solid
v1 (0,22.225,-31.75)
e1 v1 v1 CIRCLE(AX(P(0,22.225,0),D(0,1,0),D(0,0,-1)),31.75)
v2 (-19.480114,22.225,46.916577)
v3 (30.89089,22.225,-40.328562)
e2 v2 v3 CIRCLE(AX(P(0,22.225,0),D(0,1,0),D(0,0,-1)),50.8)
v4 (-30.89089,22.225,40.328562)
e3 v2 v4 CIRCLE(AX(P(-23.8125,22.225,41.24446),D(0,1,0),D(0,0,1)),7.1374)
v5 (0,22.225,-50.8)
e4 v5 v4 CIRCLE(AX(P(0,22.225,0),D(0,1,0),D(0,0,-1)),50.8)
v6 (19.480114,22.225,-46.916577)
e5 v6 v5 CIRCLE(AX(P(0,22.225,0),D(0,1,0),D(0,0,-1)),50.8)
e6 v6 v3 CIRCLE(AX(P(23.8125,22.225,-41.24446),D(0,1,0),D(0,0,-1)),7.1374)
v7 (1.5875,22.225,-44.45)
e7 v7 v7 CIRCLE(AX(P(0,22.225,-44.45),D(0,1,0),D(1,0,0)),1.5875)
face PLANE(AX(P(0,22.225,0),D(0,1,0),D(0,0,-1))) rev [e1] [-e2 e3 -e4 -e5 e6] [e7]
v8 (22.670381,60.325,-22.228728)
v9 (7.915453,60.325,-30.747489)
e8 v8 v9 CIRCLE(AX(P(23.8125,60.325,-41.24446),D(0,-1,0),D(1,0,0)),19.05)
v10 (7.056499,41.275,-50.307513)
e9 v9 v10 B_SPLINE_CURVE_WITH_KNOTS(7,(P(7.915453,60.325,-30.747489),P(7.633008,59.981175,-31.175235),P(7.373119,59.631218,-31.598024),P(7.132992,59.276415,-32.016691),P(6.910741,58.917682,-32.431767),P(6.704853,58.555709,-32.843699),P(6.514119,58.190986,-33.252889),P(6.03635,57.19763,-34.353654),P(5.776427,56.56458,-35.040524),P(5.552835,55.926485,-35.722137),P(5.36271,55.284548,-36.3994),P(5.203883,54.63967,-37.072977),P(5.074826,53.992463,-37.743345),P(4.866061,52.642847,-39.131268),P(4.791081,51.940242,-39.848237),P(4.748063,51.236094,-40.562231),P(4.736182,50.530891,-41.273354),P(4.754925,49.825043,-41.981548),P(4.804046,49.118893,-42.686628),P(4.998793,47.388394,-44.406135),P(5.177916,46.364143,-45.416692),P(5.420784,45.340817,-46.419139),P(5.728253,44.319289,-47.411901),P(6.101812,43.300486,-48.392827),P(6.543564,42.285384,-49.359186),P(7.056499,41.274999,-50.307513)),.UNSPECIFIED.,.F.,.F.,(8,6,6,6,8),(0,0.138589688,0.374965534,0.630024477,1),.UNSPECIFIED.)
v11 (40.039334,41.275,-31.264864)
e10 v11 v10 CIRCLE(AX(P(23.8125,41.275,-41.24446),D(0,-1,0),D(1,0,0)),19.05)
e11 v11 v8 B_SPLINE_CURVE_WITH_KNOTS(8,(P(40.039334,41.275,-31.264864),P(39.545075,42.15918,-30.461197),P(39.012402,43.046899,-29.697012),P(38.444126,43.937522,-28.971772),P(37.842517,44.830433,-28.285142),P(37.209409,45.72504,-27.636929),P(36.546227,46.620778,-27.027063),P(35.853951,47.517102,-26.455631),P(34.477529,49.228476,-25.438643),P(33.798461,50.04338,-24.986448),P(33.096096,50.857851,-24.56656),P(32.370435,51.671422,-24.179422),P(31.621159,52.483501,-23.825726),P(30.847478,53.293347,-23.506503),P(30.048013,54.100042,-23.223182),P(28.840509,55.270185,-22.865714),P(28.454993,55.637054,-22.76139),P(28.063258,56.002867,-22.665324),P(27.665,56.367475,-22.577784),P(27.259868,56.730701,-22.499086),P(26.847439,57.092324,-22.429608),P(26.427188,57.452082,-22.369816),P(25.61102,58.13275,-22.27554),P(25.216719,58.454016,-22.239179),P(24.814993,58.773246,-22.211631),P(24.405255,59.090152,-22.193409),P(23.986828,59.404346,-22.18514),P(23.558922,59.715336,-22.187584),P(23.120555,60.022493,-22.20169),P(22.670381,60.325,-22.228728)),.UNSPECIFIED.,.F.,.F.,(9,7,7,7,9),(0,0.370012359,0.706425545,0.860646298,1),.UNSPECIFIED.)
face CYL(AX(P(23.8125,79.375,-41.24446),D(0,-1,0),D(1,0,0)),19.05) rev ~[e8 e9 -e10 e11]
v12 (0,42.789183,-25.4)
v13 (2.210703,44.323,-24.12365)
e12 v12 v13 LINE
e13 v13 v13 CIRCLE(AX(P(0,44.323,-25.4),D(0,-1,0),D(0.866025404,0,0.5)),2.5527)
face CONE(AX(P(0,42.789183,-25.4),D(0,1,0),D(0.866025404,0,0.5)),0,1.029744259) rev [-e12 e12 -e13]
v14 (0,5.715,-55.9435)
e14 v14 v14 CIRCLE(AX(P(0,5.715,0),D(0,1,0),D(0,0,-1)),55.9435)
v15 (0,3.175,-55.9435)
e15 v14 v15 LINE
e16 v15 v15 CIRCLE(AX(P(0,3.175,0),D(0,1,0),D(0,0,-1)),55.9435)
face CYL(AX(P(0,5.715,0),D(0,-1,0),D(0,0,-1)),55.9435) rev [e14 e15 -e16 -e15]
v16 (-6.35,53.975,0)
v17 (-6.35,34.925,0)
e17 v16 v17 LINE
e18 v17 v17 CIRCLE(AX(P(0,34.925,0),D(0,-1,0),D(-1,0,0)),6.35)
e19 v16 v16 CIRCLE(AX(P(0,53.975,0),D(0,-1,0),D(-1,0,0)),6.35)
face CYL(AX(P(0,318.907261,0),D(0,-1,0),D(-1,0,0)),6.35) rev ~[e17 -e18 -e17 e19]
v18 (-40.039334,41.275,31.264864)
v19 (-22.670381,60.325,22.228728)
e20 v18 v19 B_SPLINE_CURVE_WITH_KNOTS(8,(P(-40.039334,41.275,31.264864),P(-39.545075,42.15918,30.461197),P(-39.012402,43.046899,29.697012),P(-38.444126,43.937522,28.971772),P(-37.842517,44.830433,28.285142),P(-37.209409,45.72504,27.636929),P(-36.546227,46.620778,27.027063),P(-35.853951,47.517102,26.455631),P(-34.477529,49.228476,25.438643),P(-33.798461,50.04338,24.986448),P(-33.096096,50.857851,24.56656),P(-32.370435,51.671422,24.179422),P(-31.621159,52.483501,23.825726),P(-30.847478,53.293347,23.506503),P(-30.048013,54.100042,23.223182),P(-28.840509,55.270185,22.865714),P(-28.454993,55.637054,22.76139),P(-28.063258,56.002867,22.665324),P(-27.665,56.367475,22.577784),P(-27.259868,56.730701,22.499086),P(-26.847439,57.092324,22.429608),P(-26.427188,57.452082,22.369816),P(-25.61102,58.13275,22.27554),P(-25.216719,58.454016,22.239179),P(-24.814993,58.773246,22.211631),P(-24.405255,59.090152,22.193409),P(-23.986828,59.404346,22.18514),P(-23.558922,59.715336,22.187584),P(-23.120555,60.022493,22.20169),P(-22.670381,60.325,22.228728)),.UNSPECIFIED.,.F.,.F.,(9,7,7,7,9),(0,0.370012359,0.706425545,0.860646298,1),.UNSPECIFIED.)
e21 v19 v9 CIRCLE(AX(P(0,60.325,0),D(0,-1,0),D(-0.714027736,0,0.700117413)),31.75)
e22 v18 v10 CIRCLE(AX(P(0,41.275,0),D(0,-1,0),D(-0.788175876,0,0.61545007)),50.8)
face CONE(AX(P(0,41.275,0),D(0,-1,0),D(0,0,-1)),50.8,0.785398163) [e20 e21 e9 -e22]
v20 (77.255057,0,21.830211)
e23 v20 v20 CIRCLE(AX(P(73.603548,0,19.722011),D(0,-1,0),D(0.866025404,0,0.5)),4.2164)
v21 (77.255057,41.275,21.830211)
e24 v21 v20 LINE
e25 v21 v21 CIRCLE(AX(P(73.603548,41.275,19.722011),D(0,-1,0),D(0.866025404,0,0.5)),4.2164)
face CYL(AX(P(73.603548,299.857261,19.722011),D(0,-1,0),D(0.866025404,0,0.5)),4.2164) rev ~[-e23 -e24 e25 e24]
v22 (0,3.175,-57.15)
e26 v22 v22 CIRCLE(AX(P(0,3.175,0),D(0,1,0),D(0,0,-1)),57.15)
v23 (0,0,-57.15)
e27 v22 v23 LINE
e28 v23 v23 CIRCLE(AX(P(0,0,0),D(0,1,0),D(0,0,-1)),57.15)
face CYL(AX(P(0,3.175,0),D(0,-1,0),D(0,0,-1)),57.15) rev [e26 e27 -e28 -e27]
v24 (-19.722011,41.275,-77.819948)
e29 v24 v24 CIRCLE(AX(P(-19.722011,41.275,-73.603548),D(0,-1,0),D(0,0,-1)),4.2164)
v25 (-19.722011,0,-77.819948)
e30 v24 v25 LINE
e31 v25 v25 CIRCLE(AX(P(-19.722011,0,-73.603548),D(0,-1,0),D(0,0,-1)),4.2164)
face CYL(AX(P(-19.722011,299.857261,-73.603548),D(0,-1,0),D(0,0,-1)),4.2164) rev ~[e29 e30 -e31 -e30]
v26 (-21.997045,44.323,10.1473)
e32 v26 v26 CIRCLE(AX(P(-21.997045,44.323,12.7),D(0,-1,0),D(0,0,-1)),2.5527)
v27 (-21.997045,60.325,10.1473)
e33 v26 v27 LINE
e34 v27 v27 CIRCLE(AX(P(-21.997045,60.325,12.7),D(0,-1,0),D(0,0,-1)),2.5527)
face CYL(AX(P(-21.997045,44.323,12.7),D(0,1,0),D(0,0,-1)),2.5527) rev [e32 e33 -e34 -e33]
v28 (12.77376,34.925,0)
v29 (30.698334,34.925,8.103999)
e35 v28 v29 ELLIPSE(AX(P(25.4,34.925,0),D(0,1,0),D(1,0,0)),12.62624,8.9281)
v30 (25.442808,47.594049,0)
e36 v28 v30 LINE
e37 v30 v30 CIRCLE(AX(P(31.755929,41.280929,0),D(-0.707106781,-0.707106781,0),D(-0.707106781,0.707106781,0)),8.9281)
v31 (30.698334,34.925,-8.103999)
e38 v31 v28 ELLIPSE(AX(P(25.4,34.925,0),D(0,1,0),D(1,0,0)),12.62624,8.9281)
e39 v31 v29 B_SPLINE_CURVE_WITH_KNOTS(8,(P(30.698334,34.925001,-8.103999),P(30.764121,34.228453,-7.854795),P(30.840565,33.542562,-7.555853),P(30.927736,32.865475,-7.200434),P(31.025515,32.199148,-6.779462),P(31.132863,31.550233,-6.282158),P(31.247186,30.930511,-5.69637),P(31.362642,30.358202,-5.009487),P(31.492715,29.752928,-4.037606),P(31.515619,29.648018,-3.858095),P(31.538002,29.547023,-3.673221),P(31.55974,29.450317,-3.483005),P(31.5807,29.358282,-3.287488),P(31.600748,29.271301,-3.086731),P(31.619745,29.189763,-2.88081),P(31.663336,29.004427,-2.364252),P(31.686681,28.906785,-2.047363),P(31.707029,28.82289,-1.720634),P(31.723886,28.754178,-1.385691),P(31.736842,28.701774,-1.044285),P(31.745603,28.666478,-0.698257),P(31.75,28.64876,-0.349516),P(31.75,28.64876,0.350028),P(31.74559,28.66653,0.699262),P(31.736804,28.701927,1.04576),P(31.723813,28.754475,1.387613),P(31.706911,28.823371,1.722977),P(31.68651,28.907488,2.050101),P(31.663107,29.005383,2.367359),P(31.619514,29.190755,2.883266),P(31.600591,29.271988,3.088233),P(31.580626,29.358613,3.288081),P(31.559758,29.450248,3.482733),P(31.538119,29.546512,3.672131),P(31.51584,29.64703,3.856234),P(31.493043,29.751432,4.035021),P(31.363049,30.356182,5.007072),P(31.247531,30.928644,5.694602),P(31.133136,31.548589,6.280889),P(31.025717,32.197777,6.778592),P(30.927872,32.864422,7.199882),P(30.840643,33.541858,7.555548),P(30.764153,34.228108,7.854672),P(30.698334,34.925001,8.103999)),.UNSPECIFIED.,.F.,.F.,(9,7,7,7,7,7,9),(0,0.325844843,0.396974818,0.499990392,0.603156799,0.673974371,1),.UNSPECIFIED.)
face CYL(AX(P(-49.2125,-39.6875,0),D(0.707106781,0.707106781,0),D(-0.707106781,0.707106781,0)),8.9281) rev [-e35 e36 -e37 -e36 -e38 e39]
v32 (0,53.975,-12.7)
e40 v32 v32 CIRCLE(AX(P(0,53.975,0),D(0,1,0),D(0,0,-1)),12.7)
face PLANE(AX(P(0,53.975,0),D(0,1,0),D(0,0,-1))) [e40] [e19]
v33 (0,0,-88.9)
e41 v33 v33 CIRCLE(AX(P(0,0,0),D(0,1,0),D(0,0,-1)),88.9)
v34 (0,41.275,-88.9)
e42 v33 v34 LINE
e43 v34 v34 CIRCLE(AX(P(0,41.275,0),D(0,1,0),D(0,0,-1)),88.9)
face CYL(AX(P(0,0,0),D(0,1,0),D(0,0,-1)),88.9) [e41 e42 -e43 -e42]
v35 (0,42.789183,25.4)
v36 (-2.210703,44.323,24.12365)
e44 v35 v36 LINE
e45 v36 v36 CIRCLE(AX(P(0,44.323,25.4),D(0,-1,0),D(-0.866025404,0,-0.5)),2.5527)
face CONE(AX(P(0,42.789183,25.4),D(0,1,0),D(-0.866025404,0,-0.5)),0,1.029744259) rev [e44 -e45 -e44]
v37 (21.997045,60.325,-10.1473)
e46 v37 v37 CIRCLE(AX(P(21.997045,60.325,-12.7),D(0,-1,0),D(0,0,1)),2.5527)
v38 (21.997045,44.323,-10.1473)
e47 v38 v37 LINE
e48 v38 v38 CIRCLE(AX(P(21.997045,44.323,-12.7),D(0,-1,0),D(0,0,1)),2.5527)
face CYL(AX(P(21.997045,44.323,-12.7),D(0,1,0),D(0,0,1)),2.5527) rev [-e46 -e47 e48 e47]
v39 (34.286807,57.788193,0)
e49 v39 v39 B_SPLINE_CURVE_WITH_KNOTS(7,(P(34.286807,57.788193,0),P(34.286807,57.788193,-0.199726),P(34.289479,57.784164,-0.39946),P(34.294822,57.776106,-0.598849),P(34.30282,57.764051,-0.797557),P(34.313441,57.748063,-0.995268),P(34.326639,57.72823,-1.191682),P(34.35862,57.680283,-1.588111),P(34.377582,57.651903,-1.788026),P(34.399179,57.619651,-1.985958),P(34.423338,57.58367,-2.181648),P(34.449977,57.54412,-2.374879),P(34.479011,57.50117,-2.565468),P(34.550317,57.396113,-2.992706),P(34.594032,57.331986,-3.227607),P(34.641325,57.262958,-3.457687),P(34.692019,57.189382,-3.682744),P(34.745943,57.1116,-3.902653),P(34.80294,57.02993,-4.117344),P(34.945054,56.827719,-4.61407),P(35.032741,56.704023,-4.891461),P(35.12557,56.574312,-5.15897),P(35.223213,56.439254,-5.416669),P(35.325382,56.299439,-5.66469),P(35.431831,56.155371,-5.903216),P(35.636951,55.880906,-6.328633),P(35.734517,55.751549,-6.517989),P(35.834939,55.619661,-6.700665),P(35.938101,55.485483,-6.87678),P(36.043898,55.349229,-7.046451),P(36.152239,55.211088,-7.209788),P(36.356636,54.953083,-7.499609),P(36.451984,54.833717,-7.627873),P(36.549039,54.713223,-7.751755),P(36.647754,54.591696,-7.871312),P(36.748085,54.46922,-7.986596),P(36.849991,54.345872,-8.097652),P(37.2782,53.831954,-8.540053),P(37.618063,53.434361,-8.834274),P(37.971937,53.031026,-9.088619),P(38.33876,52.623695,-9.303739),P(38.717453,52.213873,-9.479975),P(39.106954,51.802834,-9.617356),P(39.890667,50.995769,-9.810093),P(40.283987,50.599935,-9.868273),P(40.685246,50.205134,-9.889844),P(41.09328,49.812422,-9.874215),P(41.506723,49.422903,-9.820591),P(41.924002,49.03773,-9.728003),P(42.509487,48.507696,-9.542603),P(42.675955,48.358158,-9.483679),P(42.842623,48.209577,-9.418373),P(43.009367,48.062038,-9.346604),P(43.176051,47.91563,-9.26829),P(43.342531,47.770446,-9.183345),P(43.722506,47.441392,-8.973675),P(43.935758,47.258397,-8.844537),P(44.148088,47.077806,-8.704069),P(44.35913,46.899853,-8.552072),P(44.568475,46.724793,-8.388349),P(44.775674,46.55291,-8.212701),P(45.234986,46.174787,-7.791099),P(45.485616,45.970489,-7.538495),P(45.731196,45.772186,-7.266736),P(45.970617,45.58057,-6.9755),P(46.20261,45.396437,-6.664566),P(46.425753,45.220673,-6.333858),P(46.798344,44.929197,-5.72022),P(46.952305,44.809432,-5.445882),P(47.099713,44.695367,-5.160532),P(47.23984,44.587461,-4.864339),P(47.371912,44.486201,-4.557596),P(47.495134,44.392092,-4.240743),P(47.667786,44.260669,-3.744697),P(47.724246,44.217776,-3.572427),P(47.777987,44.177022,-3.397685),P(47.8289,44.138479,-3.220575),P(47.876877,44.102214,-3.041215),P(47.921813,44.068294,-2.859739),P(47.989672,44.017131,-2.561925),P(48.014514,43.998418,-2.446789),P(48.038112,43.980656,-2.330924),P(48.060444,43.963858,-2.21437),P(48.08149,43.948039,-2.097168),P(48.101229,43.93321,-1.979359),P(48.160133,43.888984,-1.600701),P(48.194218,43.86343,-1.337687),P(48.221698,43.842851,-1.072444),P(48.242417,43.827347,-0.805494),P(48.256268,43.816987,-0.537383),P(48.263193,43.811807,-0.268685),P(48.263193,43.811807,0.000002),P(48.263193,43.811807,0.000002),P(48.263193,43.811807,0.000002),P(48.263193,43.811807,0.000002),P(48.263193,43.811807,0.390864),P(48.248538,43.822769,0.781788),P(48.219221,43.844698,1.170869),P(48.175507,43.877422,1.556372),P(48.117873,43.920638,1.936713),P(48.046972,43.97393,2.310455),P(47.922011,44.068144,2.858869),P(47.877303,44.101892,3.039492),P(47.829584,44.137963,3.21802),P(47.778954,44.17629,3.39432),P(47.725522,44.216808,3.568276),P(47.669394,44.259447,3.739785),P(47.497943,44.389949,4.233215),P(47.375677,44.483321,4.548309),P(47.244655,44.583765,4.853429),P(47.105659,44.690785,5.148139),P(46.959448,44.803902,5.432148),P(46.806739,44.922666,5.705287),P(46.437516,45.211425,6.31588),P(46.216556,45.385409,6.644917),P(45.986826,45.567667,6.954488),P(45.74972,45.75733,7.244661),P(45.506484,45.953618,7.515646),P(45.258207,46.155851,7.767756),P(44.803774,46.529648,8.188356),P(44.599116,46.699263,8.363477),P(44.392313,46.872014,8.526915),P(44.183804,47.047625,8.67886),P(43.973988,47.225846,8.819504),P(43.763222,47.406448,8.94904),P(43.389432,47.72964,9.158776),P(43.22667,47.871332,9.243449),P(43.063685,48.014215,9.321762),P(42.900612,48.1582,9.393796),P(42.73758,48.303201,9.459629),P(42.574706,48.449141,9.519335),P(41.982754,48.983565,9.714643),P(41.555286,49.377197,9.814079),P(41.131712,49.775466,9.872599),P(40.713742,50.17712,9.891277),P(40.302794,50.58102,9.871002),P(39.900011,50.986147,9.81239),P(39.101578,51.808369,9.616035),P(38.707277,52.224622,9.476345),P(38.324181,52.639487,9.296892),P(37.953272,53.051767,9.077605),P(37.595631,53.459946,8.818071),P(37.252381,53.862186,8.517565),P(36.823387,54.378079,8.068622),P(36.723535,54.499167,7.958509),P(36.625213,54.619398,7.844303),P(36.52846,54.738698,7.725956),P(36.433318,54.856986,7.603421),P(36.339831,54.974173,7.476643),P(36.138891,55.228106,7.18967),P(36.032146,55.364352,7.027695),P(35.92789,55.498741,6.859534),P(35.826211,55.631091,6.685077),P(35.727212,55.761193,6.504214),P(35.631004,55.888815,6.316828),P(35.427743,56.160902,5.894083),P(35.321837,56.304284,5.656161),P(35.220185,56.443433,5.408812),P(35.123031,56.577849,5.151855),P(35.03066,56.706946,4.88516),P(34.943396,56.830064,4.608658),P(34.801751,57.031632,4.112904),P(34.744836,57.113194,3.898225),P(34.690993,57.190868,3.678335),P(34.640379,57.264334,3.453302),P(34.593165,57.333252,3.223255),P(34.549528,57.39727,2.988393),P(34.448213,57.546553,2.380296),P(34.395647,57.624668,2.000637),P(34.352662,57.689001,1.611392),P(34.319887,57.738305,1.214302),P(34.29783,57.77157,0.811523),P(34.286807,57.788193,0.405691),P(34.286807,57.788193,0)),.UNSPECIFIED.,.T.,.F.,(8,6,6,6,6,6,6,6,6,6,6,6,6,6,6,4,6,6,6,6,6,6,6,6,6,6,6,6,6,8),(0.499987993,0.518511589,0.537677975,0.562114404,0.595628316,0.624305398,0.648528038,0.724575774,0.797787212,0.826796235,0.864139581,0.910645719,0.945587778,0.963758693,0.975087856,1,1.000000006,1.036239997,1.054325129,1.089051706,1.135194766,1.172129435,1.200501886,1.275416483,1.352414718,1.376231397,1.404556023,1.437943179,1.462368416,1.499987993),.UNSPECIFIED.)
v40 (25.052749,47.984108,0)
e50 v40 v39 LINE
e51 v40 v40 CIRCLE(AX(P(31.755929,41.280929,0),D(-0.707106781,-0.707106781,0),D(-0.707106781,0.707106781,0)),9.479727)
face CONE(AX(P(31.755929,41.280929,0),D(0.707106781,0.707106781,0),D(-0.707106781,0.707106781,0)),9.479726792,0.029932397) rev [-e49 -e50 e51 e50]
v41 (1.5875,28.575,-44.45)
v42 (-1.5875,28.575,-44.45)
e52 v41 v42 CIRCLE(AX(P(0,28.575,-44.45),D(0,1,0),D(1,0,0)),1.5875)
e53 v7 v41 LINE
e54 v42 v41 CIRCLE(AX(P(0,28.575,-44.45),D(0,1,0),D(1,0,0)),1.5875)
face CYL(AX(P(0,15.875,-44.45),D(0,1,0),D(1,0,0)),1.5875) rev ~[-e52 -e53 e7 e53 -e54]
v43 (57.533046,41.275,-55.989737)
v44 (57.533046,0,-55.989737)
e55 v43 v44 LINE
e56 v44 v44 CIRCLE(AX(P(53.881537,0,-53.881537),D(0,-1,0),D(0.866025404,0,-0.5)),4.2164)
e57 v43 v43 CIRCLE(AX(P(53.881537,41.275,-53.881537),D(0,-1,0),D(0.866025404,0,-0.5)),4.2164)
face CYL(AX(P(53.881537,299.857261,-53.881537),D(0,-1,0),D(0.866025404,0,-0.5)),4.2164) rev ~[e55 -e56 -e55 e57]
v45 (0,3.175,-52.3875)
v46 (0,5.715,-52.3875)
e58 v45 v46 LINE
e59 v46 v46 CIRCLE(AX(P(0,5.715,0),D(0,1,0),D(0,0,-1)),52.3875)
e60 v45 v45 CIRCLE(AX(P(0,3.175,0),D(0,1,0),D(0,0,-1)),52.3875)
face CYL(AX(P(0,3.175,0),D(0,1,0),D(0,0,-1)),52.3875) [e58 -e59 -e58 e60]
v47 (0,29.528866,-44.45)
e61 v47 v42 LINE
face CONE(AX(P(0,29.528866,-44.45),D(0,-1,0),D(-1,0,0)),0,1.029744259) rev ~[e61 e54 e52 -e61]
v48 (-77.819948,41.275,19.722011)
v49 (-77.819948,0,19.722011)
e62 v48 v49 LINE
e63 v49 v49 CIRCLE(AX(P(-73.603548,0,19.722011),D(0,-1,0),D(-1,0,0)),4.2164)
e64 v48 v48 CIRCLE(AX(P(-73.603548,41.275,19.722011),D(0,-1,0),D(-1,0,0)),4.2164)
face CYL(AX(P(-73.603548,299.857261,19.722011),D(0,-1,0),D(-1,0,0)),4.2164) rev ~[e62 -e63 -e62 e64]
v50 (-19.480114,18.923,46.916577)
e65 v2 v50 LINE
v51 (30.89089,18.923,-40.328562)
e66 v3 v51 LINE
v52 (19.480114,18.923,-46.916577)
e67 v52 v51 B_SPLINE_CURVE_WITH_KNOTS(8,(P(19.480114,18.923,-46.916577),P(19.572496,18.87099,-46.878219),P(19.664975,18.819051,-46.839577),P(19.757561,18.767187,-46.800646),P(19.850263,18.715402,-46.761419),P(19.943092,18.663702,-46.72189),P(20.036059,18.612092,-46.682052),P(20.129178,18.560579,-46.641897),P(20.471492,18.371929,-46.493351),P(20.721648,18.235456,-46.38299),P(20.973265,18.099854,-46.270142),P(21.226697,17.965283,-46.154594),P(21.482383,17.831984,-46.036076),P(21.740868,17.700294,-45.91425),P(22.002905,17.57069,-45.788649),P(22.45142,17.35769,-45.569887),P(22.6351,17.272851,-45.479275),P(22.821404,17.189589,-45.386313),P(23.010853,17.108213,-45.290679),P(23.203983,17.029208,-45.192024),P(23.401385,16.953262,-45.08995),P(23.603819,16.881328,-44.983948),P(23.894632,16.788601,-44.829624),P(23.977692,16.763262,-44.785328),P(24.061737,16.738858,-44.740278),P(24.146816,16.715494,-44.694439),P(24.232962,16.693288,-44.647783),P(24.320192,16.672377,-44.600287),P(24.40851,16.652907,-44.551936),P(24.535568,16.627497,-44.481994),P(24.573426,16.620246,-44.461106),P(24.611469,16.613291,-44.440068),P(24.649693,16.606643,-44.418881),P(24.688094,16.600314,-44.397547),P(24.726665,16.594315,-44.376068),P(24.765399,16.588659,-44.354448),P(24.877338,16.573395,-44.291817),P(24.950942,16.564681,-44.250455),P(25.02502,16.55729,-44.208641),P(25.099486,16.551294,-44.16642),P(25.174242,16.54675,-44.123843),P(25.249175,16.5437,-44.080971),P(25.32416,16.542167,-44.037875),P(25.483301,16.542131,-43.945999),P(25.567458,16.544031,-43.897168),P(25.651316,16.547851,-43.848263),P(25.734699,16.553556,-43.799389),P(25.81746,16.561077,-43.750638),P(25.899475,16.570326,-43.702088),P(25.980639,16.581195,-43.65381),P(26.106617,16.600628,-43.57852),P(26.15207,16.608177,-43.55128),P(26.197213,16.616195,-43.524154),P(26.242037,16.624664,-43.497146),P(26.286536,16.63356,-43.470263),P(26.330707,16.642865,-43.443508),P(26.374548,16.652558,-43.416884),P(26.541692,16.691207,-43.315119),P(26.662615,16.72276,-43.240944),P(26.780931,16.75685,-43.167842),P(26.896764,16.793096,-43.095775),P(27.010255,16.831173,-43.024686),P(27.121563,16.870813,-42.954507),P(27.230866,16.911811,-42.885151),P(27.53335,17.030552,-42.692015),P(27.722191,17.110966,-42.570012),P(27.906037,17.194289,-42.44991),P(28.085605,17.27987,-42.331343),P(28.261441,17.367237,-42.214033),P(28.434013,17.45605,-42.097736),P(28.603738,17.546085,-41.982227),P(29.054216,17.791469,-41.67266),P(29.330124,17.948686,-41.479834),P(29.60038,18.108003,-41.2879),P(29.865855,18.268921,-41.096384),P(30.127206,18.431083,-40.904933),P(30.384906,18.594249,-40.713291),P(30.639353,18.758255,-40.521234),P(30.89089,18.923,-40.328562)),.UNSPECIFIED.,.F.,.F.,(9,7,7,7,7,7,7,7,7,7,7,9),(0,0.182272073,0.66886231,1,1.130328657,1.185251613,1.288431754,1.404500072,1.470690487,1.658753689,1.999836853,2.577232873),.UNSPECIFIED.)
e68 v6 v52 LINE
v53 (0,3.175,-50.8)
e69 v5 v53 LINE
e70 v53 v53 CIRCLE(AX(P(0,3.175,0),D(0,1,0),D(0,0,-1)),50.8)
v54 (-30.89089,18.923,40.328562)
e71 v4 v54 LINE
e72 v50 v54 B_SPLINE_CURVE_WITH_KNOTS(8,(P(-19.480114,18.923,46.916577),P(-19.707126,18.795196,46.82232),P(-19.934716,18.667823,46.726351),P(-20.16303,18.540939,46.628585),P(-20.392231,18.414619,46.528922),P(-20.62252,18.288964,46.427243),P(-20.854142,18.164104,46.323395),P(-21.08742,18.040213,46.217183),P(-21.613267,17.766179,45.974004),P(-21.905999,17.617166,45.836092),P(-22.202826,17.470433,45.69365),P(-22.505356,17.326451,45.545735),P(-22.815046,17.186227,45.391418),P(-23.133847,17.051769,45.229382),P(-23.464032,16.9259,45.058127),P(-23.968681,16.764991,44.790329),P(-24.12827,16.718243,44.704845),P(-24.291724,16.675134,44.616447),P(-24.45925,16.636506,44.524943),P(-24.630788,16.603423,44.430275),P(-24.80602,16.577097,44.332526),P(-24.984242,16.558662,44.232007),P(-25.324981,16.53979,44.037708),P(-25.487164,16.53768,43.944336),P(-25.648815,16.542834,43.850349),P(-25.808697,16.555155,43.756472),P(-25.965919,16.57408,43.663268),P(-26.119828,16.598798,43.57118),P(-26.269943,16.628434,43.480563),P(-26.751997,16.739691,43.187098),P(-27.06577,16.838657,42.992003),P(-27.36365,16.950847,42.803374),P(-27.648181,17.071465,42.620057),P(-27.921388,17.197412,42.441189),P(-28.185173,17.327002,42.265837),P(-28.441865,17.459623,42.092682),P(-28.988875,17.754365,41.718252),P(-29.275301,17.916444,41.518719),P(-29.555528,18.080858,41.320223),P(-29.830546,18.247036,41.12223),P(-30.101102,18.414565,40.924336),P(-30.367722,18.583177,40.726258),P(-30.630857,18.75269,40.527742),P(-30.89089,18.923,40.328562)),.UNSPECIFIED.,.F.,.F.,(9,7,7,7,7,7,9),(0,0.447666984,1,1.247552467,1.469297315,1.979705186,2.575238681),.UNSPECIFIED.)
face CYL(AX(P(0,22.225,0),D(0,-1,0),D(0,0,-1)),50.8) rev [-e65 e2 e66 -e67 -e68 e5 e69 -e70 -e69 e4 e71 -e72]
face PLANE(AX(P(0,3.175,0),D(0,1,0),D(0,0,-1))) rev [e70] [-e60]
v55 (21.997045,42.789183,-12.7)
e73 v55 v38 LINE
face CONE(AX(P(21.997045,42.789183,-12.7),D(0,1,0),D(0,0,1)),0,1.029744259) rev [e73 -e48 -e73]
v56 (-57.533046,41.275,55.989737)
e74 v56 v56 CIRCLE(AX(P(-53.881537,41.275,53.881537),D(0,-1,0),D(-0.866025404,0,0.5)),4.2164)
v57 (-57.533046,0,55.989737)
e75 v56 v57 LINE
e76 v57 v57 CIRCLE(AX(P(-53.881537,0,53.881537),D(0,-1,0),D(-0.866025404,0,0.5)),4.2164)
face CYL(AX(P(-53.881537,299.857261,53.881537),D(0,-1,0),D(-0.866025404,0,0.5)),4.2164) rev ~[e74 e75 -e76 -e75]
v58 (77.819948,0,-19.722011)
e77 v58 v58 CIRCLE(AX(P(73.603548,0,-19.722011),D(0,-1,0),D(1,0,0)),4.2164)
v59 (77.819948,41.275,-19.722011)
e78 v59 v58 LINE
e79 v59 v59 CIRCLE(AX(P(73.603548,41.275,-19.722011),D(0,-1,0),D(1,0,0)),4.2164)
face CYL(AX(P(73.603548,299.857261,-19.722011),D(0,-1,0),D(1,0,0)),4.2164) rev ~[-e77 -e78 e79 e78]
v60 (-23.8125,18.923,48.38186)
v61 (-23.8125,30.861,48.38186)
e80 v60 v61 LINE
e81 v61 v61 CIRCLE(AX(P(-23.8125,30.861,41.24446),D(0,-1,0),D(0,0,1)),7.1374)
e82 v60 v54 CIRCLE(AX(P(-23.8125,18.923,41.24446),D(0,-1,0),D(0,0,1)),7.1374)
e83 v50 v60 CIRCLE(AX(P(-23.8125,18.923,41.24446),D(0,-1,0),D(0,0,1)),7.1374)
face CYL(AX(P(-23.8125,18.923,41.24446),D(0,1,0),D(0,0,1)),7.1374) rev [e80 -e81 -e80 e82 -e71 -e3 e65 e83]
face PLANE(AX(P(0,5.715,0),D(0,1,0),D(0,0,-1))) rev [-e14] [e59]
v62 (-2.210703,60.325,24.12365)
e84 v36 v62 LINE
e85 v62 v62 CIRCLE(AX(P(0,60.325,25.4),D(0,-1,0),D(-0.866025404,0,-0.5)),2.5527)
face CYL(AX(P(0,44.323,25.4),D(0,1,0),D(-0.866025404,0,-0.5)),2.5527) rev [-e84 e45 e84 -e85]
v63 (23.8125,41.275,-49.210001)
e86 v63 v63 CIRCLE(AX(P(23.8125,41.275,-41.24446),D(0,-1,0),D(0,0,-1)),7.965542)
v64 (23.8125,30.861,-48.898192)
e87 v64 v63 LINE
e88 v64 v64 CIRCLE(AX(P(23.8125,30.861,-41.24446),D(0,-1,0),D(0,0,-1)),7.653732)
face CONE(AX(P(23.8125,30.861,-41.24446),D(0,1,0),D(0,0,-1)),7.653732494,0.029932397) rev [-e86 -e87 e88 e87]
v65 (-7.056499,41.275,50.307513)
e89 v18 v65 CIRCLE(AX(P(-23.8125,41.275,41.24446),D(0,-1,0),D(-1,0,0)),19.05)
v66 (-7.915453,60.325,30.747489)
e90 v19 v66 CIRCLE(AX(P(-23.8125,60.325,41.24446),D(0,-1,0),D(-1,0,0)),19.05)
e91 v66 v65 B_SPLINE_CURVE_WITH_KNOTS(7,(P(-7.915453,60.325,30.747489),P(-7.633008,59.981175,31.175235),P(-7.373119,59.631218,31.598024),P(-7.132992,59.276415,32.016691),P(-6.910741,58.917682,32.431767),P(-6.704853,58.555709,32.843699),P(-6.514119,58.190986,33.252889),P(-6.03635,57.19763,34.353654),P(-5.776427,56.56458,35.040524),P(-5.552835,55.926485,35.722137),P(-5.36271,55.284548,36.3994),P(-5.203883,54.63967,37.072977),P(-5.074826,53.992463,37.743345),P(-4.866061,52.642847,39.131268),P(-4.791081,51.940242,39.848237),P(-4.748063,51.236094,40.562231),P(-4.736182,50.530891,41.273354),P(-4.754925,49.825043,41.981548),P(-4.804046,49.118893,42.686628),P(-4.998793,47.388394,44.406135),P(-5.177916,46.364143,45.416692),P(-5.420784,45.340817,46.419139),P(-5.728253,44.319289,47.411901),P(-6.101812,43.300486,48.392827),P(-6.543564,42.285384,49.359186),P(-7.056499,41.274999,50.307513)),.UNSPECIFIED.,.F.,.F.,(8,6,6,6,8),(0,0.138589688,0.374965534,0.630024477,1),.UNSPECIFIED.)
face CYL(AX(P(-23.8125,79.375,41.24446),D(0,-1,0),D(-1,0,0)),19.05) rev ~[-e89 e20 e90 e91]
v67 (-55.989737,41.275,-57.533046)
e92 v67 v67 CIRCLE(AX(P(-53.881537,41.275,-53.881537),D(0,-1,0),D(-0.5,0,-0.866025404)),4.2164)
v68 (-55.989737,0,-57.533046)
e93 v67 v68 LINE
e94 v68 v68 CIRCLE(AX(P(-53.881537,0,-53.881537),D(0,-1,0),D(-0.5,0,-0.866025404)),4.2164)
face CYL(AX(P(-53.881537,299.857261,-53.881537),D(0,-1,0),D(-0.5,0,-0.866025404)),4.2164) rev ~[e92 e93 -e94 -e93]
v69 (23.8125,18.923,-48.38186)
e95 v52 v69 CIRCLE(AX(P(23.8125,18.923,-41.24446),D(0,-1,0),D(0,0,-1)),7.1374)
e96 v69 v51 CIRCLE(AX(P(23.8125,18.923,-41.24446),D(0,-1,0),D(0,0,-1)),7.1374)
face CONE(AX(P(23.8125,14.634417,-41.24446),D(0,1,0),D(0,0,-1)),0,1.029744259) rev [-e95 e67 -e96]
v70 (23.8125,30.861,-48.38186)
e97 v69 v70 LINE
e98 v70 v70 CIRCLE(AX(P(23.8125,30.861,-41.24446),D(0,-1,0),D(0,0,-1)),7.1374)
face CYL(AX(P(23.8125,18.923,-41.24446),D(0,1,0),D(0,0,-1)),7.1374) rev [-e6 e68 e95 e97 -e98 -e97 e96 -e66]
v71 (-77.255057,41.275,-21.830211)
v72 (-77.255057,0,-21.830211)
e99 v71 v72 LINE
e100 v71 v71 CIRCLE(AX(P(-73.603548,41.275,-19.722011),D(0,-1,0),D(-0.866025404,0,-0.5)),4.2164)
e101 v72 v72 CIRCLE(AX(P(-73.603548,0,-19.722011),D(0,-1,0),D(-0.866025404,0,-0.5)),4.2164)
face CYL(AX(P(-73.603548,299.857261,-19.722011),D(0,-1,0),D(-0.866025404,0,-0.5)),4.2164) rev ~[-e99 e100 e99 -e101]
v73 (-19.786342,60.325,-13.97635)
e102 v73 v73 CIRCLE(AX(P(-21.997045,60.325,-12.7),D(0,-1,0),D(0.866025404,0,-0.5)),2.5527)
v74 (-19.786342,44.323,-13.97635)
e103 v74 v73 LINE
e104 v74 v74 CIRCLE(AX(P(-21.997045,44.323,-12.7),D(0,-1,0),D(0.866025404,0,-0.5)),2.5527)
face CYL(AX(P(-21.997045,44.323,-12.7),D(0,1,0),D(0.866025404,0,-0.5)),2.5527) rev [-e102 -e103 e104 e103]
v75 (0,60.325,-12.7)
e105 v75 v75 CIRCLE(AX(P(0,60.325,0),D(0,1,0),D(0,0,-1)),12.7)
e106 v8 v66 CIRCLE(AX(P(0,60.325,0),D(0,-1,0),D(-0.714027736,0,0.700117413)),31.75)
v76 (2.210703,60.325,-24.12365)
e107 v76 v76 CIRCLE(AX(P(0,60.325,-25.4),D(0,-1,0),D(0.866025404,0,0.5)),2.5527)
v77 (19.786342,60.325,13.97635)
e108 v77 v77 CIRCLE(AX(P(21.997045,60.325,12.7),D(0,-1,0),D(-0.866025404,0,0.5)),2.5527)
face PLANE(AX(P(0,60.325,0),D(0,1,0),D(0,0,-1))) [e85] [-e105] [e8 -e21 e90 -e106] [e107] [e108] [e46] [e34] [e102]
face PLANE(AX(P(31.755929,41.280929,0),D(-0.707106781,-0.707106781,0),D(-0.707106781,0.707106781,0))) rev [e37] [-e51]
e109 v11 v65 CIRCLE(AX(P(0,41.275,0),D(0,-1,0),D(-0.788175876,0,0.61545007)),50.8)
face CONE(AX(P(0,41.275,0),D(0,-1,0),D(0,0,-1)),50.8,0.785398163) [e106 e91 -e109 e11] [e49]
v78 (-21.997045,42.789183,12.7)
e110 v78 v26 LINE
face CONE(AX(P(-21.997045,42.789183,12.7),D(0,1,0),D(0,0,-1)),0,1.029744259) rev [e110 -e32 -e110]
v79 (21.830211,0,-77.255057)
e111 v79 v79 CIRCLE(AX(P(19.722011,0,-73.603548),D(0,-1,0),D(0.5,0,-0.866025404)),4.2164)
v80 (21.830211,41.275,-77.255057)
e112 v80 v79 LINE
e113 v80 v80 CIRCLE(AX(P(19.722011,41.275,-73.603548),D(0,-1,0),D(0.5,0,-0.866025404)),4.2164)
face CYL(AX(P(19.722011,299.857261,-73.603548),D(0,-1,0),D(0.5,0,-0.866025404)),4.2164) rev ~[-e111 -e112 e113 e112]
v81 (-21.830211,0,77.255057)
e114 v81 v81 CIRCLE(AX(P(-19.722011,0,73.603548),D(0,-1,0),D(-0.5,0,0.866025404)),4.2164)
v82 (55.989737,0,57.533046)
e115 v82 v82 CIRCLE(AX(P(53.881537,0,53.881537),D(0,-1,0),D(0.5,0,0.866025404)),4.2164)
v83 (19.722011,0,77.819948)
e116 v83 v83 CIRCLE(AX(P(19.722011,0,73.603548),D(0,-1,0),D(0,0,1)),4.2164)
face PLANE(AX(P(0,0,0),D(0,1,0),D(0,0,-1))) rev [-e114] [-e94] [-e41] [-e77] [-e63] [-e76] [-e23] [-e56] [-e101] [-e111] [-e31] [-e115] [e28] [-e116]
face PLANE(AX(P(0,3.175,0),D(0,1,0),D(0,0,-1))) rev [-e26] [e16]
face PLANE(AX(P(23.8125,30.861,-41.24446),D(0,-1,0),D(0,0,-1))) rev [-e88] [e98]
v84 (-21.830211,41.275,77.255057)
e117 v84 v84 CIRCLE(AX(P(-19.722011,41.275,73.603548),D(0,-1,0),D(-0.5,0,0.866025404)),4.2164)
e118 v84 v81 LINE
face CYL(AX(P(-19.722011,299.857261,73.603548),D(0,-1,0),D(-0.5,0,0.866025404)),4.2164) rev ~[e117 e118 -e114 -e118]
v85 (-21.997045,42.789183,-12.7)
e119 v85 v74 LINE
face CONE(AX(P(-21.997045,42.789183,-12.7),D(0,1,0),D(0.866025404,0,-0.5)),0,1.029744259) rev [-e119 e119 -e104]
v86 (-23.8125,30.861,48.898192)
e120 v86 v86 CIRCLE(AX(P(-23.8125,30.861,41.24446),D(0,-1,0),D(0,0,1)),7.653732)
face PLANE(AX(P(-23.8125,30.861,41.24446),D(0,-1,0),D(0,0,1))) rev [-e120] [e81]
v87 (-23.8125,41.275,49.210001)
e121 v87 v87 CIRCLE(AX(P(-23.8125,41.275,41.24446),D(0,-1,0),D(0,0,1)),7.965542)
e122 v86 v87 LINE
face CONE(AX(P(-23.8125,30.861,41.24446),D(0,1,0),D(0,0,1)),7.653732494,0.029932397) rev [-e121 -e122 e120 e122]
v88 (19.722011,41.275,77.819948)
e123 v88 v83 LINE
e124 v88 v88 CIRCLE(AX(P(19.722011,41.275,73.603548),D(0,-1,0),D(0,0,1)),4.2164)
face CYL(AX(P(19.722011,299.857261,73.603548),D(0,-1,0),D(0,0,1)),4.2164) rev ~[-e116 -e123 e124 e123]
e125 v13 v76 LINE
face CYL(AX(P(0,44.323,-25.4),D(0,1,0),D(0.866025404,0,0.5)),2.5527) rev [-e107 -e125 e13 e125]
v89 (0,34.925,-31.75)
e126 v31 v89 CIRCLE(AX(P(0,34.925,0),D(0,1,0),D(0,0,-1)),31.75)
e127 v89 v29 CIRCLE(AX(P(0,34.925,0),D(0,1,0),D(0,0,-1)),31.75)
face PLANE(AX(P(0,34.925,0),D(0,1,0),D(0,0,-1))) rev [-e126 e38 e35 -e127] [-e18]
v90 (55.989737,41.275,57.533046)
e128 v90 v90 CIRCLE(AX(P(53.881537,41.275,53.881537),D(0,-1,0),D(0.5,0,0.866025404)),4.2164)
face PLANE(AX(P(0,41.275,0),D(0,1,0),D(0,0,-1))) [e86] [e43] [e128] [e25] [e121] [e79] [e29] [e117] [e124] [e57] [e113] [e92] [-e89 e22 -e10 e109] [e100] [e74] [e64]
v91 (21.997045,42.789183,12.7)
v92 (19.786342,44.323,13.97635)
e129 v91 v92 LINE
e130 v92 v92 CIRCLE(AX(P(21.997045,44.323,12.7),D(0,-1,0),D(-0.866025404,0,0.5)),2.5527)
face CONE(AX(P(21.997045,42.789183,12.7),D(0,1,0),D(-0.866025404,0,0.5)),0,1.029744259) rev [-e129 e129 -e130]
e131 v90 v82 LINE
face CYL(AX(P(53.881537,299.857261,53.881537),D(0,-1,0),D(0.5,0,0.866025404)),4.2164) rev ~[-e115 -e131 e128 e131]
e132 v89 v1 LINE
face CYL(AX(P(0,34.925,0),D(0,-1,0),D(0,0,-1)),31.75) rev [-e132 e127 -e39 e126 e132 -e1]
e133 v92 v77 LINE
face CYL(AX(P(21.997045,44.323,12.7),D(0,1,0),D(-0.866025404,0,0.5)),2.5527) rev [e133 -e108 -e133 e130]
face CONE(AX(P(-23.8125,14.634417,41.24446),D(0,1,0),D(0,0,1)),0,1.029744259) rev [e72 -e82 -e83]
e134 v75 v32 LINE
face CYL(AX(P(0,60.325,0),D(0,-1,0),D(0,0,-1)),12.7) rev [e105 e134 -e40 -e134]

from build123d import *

# Parameters (mm, degrees)
F_5_16_CLEARANCE_HOLE1_D         = 8.4328
CIRPATTERN1_COUNT                = 12
F_1_2_0_5_DIAMETER_HOLE1_D       = 12.7
F_1_1_5_DIAMETER_HOLE1_D         = 38.1
F_1_1_5_DIAMETER_HOLE1_DEPTH     = 19.05
CIRPATTERN2_COUNT                = 6
CIRPATTERN3_COUNT                = 2
F_1_8_0_125_DIAMETER_HOLE1_D     = 3.175
F_1_8_0_125_DIAMETER_HOLE1_DEPTH = 6.35
F_1_8_0_125_DIAMETER_HOLE1_TIP   = 0.953866233


with BuildPart() as part:
    # Sketch1 → Revolve1 (revolve)
    with BuildSketch(Plane.XY, mode=Mode.PRIVATE) as revolve1_sk:
        Polygon((-88.9, 0), (-88.9, 41.275), (-50.8, 41.275), (-31.75, 60.325), (-12.7, 60.325), (-12.7, 53.975), (0, 53.975), (0, 34.925), (-31.75, 34.925), (-31.75, 22.225), (-50.8, 22.225), (-50.8, 3.175), (-52.3875, 3.175), (-52.3875, 5.715), (-55.9435, 5.715), (-55.9435, 3.175), (-57.15, 3.175), (-57.15, 0), align=None)
    revolve(revolve1_sk.sketch.rotate(Axis((0, 0, 0), (0, 1, 0)), 270), axis=Axis((0, 0, 0), (0, 1, 0)))

    # 5/16 Clearance Hole1 (through all)
    with Locations(Plane(origin=(0, 41.275, 0), x_dir=(1, 0, 0), z_dir=(0, 1, 0))):
        with Locations((-73.603547963, -19.722011237)):
            f_5_16_clearance_hole1 = Hole(F_5_16_CLEARANCE_HOLE1_D / 2)

    # CirPattern1: 5/16 Clearance Hole1 ×12 about axis
    cirpattern1_axis = Axis((0, 0, 0), (0, 1, 0))
    for i in range(1, CIRPATTERN1_COUNT):
        add(f_5_16_clearance_hole1.rotate(cirpattern1_axis, i * 360 / CIRPATTERN1_COUNT), mode=Mode.SUBTRACT)

    # 1/2 (0.5) Diameter Hole1 (through all)
    with Locations(Plane(origin=(0, 60.325, 0), x_dir=(1, 0, 0), z_dir=(0, 1, 0))):
        with Locations((0, 0)):
            Hole(F_1_2_0_5_DIAMETER_HOLE1_D / 2)

    # Sketch11 → 1/2 NPT Tapped Hole1 (revolve, cut)
    with BuildSketch(Plane(origin=(41.275, 50.8, 0), x_dir=(-0.707106781186546, 0.707106781186549, 0), z_dir=(0, 0, 1))):
        Polygon((0, 0), (0, 127.968649725), (8.9281, 127.968649725), (8.9281, 13.462), (9.479726792, 13.462), (9.8827971, 0), align=None)
    revolve(axis=Axis((45.765128061, 55.290128061, 0), (-0.707106781186549, -0.707106781186546, 0)), mode=Mode.SUBTRACT)

    # 1 (1.5) Diameter Hole1
    with Locations(Plane(origin=(0, 60.325, 0), x_dir=(1, 0, 0), z_dir=(0, 1, 0))):
        with Locations((-23.8125, -41.244459855)):
            f_1_1_5_diameter_hole1 = Hole(F_1_1_5_DIAMETER_HOLE1_D / 2, depth=F_1_1_5_DIAMETER_HOLE1_DEPTH)

    # Sketch19 → 3/8 NPT Tapped Hole1 (revolve, cut)
    with BuildSketch(Plane(origin=(-23.8125, 41.275, 41.244459855), x_dir=(0, 0, 1), z_dir=(1, 0, 0))):
        Polygon((0, 0), (0, 26.640582582), (7.1374, 22.352), (7.1374, 10.414), (7.653732494, 10.414), (7.9655416, 0), align=None)
    f_3_8_npt_tapped_hole1 = revolve(axis=Axis((-23.8125, 47.625, 41.244459855), (0, -1, 0)), mode=Mode.SUBTRACT)

    # Sketch21 → Tap Drill for 1/4-20 Tap1 (revolve, cut)
    with BuildSketch(Plane(origin=(21.997045256, 60.325, -12.7), x_dir=(0, 0, 1), z_dir=(1, 0, 0))):
        Polygon((0, 0), (0, 17.535816902), (2.5527, 16.002), (2.5527, 0), align=None)
    tap_drill_for_1_4_20_tap1 = revolve(axis=Axis((21.997045256, 66.675, -12.7), (0, -1, 0)), mode=Mode.SUBTRACT)

    # CirPattern2: Tap Drill for 1/4-20 Tap1 ×6 about axis
    cirpattern2_axis = Axis((0, 0, 0), (0, 1, 0))
    for i in range(1, CIRPATTERN2_COUNT):
        add(tap_drill_for_1_4_20_tap1.rotate(cirpattern2_axis, i * 360 / CIRPATTERN2_COUNT), mode=Mode.SUBTRACT)

    # CirPattern3: 1 (1.5) Diameter Hole1, 3/8 NPT Tapped Hole1 ×2 about axis
    cirpattern3_axis = Axis((0, 0, 0), (0, 1, 0))
    add([f_1_1_5_diameter_hole1.rotate(cirpattern3_axis, i * 360 / CIRPATTERN3_COUNT) for i in range(1, CIRPATTERN3_COUNT)], mode=Mode.SUBTRACT)
    add([f_3_8_npt_tapped_hole1.rotate(cirpattern3_axis, i * 360 / CIRPATTERN3_COUNT) for i in range(1, CIRPATTERN3_COUNT)], mode=Mode.SUBTRACT)

    # 1/8 (0.125) Diameter Hole1
    with Locations(Plane(origin=(0, 22.225, 0), x_dir=(-1, 0, 0), z_dir=(0, -1, 0))):
        with Locations((0, 44.45)):
            Hole(F_1_8_0_125_DIAMETER_HOLE1_D / 2, depth=F_1_8_0_125_DIAMETER_HOLE1_DEPTH)
            with Locations((0, 0, -(F_1_8_0_125_DIAMETER_HOLE1_DEPTH + F_1_8_0_125_DIAMETER_HOLE1_TIP / 2))):  # 118° drill point
                Cone(0, F_1_8_0_125_DIAMETER_HOLE1_D / 2, F_1_8_0_125_DIAMETER_HOLE1_TIP, mode=Mode.SUBTRACT)


solid = part.part
